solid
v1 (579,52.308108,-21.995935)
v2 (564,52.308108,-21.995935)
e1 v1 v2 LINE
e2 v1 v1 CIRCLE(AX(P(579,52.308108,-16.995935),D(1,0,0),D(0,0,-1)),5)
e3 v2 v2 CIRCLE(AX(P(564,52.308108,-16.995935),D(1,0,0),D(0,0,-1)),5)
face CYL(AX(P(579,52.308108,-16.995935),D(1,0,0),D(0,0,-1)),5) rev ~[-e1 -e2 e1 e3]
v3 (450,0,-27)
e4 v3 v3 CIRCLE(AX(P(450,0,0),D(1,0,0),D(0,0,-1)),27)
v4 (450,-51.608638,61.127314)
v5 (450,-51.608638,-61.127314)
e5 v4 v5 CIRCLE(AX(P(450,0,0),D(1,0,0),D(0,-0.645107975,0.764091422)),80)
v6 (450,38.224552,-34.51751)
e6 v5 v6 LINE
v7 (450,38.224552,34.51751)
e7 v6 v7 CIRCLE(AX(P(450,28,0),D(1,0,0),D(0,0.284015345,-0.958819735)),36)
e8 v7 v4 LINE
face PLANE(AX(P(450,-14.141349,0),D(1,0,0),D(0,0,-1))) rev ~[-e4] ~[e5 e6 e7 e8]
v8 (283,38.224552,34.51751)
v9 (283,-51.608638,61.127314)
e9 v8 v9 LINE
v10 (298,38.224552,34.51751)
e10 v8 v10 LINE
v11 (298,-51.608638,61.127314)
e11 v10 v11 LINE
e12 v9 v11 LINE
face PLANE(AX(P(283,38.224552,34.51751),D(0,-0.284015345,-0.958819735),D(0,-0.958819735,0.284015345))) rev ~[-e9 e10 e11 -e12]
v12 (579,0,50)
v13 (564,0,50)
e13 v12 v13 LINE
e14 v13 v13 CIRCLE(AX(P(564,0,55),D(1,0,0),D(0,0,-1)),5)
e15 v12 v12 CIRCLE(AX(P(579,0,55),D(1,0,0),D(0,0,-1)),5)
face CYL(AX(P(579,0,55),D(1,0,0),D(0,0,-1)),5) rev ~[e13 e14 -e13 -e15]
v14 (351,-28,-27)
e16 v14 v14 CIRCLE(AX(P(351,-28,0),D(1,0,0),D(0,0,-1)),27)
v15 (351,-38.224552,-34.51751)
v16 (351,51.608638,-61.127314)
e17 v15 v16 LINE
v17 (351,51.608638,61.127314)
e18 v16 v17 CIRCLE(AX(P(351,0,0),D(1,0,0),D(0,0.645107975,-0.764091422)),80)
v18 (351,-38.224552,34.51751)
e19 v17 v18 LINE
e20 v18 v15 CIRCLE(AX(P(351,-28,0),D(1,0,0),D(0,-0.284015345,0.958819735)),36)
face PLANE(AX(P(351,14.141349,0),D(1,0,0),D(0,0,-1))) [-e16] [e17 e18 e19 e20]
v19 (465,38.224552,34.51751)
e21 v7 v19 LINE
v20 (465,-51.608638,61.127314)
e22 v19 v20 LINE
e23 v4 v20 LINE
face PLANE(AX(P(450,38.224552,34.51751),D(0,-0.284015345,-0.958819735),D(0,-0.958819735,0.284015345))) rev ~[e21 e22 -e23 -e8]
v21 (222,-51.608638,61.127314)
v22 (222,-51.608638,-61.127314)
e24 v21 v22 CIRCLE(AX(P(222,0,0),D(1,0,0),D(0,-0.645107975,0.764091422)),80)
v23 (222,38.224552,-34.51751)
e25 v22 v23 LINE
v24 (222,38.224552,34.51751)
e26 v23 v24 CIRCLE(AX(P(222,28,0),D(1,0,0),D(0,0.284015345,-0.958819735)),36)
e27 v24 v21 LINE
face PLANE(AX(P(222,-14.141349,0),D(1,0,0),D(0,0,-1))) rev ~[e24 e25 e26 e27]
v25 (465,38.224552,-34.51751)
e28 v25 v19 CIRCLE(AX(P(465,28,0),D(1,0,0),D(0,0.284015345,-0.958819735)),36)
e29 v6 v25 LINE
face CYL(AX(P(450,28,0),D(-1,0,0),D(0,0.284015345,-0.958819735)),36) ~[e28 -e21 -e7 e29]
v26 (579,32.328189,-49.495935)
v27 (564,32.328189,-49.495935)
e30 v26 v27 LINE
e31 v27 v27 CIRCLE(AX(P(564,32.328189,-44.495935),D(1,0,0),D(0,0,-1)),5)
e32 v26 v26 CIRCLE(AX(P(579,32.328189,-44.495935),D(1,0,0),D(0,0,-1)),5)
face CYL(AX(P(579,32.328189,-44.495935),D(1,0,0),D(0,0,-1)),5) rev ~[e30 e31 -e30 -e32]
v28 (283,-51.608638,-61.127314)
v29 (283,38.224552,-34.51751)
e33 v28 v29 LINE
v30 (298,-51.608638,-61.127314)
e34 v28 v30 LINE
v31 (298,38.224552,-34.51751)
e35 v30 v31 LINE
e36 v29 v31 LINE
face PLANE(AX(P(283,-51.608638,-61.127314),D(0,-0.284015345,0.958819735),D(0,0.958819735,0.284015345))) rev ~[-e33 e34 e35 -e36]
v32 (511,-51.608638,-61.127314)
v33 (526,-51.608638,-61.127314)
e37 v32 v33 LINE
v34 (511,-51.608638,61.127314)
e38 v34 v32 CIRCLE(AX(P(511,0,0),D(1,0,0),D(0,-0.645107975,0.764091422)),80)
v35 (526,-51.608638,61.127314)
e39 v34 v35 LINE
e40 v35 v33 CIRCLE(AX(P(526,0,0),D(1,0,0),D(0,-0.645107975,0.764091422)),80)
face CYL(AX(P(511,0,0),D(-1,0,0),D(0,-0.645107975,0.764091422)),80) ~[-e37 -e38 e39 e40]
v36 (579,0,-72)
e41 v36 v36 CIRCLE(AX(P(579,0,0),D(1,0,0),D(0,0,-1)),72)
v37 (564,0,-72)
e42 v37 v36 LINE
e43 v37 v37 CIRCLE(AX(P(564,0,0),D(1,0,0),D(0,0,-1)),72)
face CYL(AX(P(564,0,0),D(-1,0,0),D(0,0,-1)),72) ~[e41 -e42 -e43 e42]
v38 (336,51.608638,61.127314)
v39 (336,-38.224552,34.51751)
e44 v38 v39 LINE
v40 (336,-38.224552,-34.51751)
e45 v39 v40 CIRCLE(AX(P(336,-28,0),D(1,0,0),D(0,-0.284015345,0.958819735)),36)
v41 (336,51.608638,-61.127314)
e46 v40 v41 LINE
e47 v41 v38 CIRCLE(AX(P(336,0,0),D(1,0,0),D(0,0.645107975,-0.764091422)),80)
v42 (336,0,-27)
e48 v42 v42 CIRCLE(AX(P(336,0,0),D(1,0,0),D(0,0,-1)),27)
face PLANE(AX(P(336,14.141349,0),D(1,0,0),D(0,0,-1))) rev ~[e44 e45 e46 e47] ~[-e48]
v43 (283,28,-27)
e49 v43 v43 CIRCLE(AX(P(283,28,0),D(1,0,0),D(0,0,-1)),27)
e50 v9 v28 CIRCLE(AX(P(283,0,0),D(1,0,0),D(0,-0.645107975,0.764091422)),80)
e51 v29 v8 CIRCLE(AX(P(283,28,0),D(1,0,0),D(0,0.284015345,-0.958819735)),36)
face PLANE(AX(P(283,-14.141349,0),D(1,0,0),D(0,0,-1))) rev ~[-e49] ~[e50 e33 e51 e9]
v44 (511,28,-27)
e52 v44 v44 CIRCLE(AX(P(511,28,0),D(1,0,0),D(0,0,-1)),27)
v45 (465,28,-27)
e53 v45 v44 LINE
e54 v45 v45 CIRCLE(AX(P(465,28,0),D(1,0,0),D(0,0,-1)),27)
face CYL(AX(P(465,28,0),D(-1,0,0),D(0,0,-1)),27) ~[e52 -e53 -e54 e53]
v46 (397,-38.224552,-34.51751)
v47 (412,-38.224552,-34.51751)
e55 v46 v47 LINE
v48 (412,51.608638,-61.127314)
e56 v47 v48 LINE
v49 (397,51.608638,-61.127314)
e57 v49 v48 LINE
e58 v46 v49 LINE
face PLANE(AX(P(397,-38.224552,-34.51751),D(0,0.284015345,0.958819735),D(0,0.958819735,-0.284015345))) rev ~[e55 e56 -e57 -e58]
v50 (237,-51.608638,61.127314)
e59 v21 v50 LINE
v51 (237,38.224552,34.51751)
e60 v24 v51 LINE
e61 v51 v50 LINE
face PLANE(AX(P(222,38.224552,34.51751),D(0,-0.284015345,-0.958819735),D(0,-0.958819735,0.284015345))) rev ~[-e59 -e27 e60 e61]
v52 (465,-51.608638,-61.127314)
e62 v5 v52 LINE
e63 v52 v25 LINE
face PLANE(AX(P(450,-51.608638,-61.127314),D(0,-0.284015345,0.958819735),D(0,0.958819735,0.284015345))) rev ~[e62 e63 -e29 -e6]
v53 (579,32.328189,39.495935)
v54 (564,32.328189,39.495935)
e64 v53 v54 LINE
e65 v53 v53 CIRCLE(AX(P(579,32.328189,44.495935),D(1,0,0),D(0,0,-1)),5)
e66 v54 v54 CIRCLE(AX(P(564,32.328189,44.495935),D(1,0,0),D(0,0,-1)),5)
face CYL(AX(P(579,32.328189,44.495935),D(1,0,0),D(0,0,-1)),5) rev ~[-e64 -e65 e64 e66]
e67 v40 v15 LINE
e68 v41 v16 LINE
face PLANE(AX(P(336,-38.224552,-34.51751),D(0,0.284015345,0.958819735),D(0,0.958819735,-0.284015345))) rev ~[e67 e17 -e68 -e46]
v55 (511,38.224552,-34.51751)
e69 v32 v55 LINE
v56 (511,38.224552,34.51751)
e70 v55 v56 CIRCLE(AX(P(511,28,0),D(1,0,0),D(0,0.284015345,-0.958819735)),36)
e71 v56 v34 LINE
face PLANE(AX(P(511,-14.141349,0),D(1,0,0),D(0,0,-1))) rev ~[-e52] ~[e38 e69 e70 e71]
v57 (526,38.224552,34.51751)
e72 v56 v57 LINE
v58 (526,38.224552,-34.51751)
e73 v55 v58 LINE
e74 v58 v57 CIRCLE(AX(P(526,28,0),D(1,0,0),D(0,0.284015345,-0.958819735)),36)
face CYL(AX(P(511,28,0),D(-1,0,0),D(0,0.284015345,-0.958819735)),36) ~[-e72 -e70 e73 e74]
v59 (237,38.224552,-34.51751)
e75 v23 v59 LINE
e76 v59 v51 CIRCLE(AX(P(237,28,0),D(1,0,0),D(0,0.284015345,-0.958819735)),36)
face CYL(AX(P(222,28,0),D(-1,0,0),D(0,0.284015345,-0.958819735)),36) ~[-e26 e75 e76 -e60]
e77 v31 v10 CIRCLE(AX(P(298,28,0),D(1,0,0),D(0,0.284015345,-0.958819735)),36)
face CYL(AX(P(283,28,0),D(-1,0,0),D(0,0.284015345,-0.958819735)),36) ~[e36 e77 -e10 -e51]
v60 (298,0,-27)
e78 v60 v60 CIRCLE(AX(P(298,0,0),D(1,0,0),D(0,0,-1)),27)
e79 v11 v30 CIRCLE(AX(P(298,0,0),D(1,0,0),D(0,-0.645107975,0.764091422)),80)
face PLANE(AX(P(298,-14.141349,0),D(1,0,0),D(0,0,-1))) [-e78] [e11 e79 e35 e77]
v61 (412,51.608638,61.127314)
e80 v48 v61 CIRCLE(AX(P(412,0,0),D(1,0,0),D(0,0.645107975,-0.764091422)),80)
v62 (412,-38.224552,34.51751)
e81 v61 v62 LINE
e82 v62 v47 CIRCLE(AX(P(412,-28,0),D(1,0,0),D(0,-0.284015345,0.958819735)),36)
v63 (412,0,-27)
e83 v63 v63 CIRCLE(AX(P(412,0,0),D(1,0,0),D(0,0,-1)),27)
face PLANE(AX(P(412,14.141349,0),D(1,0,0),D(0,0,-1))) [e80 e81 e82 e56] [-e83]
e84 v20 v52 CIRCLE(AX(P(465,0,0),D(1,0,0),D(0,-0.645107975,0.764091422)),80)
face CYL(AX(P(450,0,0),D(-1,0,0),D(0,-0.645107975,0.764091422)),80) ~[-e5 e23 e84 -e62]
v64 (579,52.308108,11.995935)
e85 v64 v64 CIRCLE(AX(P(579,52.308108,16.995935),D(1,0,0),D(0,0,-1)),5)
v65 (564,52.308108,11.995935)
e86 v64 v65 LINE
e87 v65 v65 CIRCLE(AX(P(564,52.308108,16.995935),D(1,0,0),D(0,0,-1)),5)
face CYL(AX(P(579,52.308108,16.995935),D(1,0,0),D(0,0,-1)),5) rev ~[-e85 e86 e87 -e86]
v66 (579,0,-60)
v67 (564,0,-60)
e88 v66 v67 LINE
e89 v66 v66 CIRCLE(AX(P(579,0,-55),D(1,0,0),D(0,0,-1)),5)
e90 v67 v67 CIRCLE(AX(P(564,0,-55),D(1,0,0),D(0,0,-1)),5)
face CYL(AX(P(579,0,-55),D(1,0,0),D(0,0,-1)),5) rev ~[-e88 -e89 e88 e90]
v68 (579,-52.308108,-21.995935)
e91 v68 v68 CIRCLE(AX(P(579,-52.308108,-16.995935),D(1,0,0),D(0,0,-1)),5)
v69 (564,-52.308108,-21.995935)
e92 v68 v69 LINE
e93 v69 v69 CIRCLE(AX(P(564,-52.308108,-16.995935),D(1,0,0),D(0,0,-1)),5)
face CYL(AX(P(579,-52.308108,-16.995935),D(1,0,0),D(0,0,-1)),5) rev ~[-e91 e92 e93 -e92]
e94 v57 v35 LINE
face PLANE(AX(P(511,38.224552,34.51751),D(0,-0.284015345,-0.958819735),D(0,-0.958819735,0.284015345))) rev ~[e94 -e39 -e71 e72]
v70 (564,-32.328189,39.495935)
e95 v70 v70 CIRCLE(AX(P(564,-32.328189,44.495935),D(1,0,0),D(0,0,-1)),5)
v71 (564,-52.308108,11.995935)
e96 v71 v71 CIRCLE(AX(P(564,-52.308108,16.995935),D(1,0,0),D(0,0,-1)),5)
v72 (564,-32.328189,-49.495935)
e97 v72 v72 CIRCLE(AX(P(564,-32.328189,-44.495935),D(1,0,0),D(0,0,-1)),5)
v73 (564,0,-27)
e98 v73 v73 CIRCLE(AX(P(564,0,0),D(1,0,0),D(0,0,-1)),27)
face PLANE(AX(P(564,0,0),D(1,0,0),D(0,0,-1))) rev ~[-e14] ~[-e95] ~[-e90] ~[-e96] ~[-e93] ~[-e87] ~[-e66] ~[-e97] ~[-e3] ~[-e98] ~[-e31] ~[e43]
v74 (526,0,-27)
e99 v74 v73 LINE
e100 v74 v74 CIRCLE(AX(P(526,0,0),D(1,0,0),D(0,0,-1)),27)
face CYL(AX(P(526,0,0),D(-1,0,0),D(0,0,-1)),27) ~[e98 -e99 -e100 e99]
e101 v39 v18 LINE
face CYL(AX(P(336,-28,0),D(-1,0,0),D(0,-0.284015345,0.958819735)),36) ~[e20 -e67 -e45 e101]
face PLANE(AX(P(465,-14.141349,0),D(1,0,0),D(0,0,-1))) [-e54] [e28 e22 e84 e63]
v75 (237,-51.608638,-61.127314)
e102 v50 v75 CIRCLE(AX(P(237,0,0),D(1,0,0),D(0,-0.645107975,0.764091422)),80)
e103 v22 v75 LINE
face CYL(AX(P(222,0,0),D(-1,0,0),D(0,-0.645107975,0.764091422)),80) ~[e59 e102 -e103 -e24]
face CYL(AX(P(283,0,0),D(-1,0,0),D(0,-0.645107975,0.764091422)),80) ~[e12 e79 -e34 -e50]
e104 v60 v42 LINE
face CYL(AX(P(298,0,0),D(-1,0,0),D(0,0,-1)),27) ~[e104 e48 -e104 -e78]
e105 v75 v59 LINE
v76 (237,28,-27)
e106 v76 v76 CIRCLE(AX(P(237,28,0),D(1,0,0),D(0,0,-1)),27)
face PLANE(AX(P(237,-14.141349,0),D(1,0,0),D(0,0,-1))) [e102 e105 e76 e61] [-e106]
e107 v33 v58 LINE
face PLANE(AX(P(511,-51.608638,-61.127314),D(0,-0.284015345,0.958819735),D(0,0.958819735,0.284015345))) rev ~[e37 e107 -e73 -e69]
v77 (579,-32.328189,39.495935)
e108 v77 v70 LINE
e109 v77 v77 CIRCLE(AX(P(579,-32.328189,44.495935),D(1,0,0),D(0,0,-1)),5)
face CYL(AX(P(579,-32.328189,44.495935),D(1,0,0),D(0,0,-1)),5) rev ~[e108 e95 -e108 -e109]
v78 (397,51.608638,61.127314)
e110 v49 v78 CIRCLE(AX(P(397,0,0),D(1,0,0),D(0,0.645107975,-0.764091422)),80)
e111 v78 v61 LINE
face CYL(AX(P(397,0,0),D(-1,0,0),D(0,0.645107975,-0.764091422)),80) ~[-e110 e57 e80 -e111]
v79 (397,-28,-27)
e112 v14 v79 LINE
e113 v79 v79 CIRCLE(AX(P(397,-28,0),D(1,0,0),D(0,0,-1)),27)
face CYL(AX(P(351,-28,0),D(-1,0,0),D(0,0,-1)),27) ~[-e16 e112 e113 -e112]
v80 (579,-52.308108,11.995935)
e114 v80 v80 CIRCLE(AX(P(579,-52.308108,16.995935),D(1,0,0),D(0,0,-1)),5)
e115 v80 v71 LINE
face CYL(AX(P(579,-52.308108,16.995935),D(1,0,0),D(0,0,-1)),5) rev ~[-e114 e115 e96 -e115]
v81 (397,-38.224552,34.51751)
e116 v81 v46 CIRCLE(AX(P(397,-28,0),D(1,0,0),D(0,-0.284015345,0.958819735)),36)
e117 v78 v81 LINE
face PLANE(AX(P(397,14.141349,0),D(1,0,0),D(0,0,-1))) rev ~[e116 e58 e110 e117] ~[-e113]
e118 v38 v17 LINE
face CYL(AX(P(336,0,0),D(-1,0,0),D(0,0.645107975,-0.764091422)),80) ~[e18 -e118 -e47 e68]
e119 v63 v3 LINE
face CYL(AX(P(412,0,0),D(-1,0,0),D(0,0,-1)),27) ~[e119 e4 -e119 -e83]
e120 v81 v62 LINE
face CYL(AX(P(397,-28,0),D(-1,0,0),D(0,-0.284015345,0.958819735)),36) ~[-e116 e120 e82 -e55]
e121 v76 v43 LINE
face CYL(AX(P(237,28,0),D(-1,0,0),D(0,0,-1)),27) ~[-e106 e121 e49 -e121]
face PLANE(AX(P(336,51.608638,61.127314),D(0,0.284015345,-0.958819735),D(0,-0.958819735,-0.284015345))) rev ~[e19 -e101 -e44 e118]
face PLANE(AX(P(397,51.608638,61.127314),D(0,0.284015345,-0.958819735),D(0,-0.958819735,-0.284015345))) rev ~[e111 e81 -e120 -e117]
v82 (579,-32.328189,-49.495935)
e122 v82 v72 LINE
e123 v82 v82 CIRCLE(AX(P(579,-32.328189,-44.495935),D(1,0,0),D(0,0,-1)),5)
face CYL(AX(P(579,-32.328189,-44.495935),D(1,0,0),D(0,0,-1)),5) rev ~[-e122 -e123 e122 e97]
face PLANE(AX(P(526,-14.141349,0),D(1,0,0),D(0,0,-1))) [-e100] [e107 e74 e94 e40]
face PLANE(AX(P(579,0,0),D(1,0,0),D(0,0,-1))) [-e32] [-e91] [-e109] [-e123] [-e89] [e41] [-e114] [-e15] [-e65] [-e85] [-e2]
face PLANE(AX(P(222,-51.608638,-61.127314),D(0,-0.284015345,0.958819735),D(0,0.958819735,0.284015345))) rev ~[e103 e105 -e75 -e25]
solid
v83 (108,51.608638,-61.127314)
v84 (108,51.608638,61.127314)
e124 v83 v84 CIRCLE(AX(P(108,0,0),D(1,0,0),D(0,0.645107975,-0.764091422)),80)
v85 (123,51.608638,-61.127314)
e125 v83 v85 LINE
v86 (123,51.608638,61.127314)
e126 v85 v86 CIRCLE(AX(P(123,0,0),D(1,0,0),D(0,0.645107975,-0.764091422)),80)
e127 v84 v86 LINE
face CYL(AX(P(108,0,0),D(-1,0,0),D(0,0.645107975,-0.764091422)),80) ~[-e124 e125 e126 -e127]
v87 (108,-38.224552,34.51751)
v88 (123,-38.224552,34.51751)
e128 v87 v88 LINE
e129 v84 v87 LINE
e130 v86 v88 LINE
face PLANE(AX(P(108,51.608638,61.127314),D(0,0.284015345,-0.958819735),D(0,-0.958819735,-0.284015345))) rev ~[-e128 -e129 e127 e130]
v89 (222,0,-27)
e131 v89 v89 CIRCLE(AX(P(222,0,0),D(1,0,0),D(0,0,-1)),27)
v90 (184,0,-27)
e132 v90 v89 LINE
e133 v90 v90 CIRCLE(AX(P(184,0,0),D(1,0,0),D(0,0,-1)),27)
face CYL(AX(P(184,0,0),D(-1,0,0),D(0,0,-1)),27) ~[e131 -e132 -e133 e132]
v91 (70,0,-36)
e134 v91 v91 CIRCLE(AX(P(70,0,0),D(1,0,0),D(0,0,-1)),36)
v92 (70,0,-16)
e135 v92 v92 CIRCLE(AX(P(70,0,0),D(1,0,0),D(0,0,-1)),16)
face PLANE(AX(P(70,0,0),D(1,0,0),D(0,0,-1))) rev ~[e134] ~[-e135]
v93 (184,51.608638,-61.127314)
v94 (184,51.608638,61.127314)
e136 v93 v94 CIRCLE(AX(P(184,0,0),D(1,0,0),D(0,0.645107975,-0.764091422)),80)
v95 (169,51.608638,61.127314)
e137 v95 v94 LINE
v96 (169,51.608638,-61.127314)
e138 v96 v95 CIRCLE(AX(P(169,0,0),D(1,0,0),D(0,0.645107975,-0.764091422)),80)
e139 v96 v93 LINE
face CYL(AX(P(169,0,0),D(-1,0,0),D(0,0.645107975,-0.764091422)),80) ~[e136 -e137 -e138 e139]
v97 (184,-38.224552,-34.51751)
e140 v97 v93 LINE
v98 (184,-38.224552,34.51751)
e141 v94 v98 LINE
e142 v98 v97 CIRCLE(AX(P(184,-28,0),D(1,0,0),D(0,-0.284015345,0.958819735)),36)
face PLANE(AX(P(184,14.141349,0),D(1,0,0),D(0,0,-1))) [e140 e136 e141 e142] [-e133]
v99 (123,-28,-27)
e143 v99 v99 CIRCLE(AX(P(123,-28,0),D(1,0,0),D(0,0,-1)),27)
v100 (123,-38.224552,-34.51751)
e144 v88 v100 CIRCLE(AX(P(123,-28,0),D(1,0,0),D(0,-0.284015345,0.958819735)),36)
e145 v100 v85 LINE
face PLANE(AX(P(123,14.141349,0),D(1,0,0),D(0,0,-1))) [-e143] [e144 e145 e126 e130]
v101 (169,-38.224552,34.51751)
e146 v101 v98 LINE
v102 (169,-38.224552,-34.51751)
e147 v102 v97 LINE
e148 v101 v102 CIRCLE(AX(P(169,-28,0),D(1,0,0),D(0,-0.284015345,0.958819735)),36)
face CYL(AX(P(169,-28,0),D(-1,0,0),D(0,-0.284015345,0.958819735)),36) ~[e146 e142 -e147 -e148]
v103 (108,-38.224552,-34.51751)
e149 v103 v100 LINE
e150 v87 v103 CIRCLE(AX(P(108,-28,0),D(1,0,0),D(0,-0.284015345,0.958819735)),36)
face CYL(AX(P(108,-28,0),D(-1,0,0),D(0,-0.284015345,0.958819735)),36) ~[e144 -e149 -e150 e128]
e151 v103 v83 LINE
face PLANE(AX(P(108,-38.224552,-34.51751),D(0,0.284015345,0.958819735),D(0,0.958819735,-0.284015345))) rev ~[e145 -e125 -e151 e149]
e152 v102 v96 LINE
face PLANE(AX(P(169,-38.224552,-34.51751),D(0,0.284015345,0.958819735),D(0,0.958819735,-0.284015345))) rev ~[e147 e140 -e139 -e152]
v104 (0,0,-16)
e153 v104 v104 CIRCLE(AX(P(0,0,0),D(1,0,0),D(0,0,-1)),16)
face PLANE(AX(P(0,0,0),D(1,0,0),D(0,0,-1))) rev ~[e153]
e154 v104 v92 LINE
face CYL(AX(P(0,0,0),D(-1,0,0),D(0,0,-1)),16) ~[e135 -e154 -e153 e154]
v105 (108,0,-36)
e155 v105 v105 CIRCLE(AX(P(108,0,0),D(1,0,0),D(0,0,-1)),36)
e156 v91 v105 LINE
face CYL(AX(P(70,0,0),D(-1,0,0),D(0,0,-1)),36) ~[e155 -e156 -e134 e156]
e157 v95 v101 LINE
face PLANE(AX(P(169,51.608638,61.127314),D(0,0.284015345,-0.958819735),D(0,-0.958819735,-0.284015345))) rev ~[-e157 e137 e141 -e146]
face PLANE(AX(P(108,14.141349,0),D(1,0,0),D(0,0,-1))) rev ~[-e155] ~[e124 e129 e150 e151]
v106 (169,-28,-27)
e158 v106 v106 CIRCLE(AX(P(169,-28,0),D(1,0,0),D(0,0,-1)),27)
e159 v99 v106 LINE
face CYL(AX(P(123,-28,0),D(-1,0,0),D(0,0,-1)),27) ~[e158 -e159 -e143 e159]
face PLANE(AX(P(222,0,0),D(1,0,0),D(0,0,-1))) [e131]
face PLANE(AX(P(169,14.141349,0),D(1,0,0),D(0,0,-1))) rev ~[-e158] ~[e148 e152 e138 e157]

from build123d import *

# Parameters (mm, degrees)
SKETCH1_R            = 16
BOSS_EXTRUDE1_DEPTH  = 70
SKETCH2_R            = 36
BOSS_EXTRUDE2_DEPTH  = 38
BOSS_EXTRUDE3_DEPTH  = 15
SKETCH4_R            = 27
BOSS_EXTRUDE4_DEPTH  = 46
BOSS_EXTRUDE6_DEPTH  = 15
SKETCH9_R            = 27
BOSS_EXTRUDE7_DEPTH  = 38
BOSS_EXTRUDE8_DEPTH  = 15
SKETCH12_R           = 27
BOSS_EXTRUDE9_DEPTH  = 46
BOSS_EXTRUDE10_DEPTH = 15
SKETCH15_R           = 27
BOSS_EXTRUDE11_DEPTH = 38
BOSS_EXTRUDE12_DEPTH = 15
SKETCH17_R           = 27
BOSS_EXTRUDE13_DEPTH = 46
BOSS_EXTRUDE14_DEPTH = 15
SKETCH19_R           = 27
BOSS_EXTRUDE15_DEPTH = 38
BOSS_EXTRUDE16_DEPTH = 15
SKETCH21_R           = 27
BOSS_EXTRUDE17_DEPTH = 46
BOSS_EXTRUDE18_DEPTH = 15
SKETCH23_R           = 27
BOSS_EXTRUDE19_DEPTH = 38
SKETCH24_R           = 72
BOSS_EXTRUDE20_DEPTH = 15
SKETCH25_R           = 5
CUT_EXTRUDE1_DEPTH   = 15


with BuildPart() as part:
    # Sketch1 → Boss-Extrude1 (new body)
    with BuildSketch(Plane(origin=(0, 0, 0), x_dir=(0, 0, -1), z_dir=(1, 0, 0))):
        Circle(SKETCH1_R)
    extrude(amount=BOSS_EXTRUDE1_DEPTH)

    # Sketch2 → Boss-Extrude2 (add)
    with BuildSketch(Plane(origin=(70, 0, 0), x_dir=(0, 0, -1), z_dir=(1, 0, 0))):
        Circle(SKETCH2_R)
    extrude(amount=BOSS_EXTRUDE2_DEPTH)

    # Sketch3 → Boss-Extrude3 (add)
    with BuildSketch(Plane(origin=(108, 0, 0), x_dir=(0, 0, -1), z_dir=(1, 0, 0))):
        with BuildLine():
            Line((34.517510455, -38.224552409), (61.127313745, 51.608637982))
            ThreePointArc((61.127313745, 51.608637982), (0, 80), (-61.127313745, 51.608637982))
            Line((-61.127313745, 51.608637982), (-34.517510455, -38.224552409))
            ThreePointArc((-34.517510455, -38.224552409), (0, -64), (34.517510455, -38.224552409))
        make_face()
    extrude(amount=BOSS_EXTRUDE3_DEPTH)

    # Sketch4 → Boss-Extrude4 (add)
    with BuildSketch(Plane(origin=(123, 0, 0), x_dir=(0, 0, -1), z_dir=(1, 0, 0))):
        with Locations((0, -28)):
            Circle(SKETCH4_R)
    extrude(amount=BOSS_EXTRUDE4_DEPTH)

    # Sketch8 → Boss-Extrude6 (add)
    with BuildSketch(Plane(origin=(169, 0, 0), x_dir=(0, 0, -1), z_dir=(1, 0, 0))):
        with BuildLine():
            Line((34.517510455, -38.224552409), (61.127313745, 51.608637982))
            ThreePointArc((61.127313745, 51.608637982), (0, 80), (-61.127313745, 51.608637982))
            Line((-61.127313745, 51.608637982), (-34.517510455, -38.224552409))
            ThreePointArc((-34.517510455, -38.224552409), (0, -64), (34.517510455, -38.224552409))
        make_face()
    extrude(amount=BOSS_EXTRUDE6_DEPTH)

    # Sketch9 → Boss-Extrude7 (add)
    with BuildSketch(Plane(origin=(184, 0, 0), x_dir=(0, 0, -1), z_dir=(1, 0, 0))):
        Circle(SKETCH9_R)
    extrude(amount=BOSS_EXTRUDE7_DEPTH)


with BuildPart() as body_2:
    # Sketch10 → Boss-Extrude8 (new body)
    with BuildSketch(Plane(origin=(222, 0, 0), x_dir=(0, 0, -1), z_dir=(1, 0, 0))):
        with BuildLine():
            Line((-34.517510455, 38.224552409), (-61.127313745, -51.608637982))
            ThreePointArc((-61.127313745, -51.608637982), (0, -80), (61.127313745, -51.608637982))
            Line((61.127313745, -51.608637982), (34.517510455, 38.224552409))
            ThreePointArc((34.517510455, 38.224552409), (0, 64), (-34.517510455, 38.224552409))
        make_face()
    extrude(amount=BOSS_EXTRUDE8_DEPTH)

    # Sketch12 → Boss-Extrude9 (add)
    with BuildSketch(Plane(origin=(237, 0, 0), x_dir=(0, 0, -1), z_dir=(1, 0, 0))):
        with Locations((0, 28)):
            Circle(SKETCH12_R)
    extrude(amount=BOSS_EXTRUDE9_DEPTH)

    # Sketch13 → Boss-Extrude10 (add)
    with BuildSketch(Plane(origin=(283, 0, 0), x_dir=(0, 0, -1), z_dir=(1, 0, 0))):
        with BuildLine():
            Line((-34.517510455, 38.224552409), (-61.127313745, -51.608637982))
            ThreePointArc((-61.127313745, -51.608637982), (0, -80), (61.127313745, -51.608637982))
            Line((61.127313745, -51.608637982), (34.517510455, 38.224552409))
            ThreePointArc((34.517510455, 38.224552409), (0, 64), (-34.517510455, 38.224552409))
        make_face()
    extrude(amount=BOSS_EXTRUDE10_DEPTH)

    # Sketch15 → Boss-Extrude11 (add)
    with BuildSketch(Plane(origin=(298, 0, 0), x_dir=(0, 0, -1), z_dir=(1, 0, 0))):
        Circle(SKETCH15_R)
    extrude(amount=BOSS_EXTRUDE11_DEPTH)

    # Sketch16 → Boss-Extrude12 (add)
    with BuildSketch(Plane(origin=(336, 0, 0), x_dir=(0, 0, -1), z_dir=(1, 0, 0))):
        with BuildLine():
            Line((34.517510455, -38.224552409), (61.127313745, 51.608637982))
            ThreePointArc((61.127313745, 51.608637982), (0, 80), (-61.127313745, 51.608637982))
            Line((-61.127313745, 51.608637982), (-34.517510455, -38.224552409))
            ThreePointArc((-34.517510455, -38.224552409), (0, -64), (34.517510455, -38.224552409))
        make_face()
    extrude(amount=BOSS_EXTRUDE12_DEPTH)

    # Sketch17 → Boss-Extrude13 (add)
    with BuildSketch(Plane(origin=(351, 0, 0), x_dir=(0, 0, -1), z_dir=(1, 0, 0))):
        with Locations((0, -28)):
            Circle(SKETCH17_R)
    extrude(amount=BOSS_EXTRUDE13_DEPTH)

    # Sketch18 → Boss-Extrude14 (add)
    with BuildSketch(Plane(origin=(397, 0, 0), x_dir=(0, 0, -1), z_dir=(1, 0, 0))):
        with BuildLine():
            Line((-61.127313745, 51.608637982), (-34.517510455, -38.224552409))
            ThreePointArc((-34.517510455, -38.224552409), (0, -64), (34.517510455, -38.224552409))
            Line((34.517510455, -38.224552409), (61.127313745, 51.608637982))
            ThreePointArc((61.127313745, 51.608637982), (0, 80), (-61.127313745, 51.608637982))
        make_face()
    extrude(amount=BOSS_EXTRUDE14_DEPTH)

    # Sketch19 → Boss-Extrude15 (add)
    with BuildSketch(Plane(origin=(412, 0, 0), x_dir=(0, 0, -1), z_dir=(1, 0, 0))):
        Circle(SKETCH19_R)
    extrude(amount=BOSS_EXTRUDE15_DEPTH)

    # Sketch20 → Boss-Extrude16 (add)
    with BuildSketch(Plane(origin=(450, 0, 0), x_dir=(0, 0, -1), z_dir=(1, 0, 0))):
        with BuildLine():
            Line((-34.517510455, 38.224552409), (-61.127313745, -51.608637982))
            ThreePointArc((-61.127313745, -51.608637982), (0, -80), (61.127313745, -51.608637982))
            Line((61.127313745, -51.608637982), (34.517510455, 38.224552409))
            ThreePointArc((34.517510455, 38.224552409), (0, 64), (-34.517510455, 38.224552409))
        make_face()
    extrude(amount=BOSS_EXTRUDE16_DEPTH)

    # Sketch21 → Boss-Extrude17 (add)
    with BuildSketch(Plane(origin=(465, 0, 0), x_dir=(0, 0, -1), z_dir=(1, 0, 0))):
        with Locations((0, 28)):
            Circle(SKETCH21_R)
    extrude(amount=BOSS_EXTRUDE17_DEPTH)

    # Sketch22 → Boss-Extrude18 (add)
    with BuildSketch(Plane(origin=(511, 0, 0), x_dir=(0, 0, -1), z_dir=(1, 0, 0))):
        with BuildLine():
            Line((-34.517510455, 38.224552409), (-61.127313745, -51.608637982))
            ThreePointArc((-61.127313745, -51.608637982), (0, -80), (61.127313745, -51.608637982))
            Line((61.127313745, -51.608637982), (34.517510455, 38.224552409))
            ThreePointArc((34.517510455, 38.224552409), (0, 64), (-34.517510455, 38.224552409))
        make_face()
    extrude(amount=BOSS_EXTRUDE18_DEPTH)

    # Sketch23 → Boss-Extrude19 (add)
    with BuildSketch(Plane(origin=(526, 0, 0), x_dir=(0, 0, -1), z_dir=(1, 0, 0))):
        Circle(SKETCH23_R)
    extrude(amount=BOSS_EXTRUDE19_DEPTH)

    # Sketch24 → Boss-Extrude20 (add)
    with BuildSketch(Plane(origin=(564, 0, 0), x_dir=(0, 0, -1), z_dir=(1, 0, 0))):
        Circle(SKETCH24_R)
    extrude(amount=BOSS_EXTRUDE20_DEPTH)

    # Sketch25 → Cut-Extrude1 (cut)
    with BuildSketch(Plane(origin=(579, 0, 0), x_dir=(0, 0, -1), z_dir=(1, 0, 0))):
        with Locations((55, 0)):
            Circle(SKETCH25_R)
        with Locations((44.495934691, -32.328188876)):
            Circle(SKETCH25_R)
        with Locations((16.995934691, -52.308108396)):
            Circle(SKETCH25_R)
        with Locations((-16.995934691, -52.308108396)):
            Circle(SKETCH25_R)
        with Locations((-44.495934691, -32.328188876)):
            Circle(SKETCH25_R)
        with Locations((-55, 0)):
            Circle(SKETCH25_R)
        with Locations((-44.495934691, 32.328188876)):
            Circle(SKETCH25_R)
        with Locations((-16.995934691, 52.308108396)):
            Circle(SKETCH25_R)
        with Locations((16.995934691, 52.308108396)):
            Circle(SKETCH25_R)
        with Locations((44.495934691, 32.328188876)):
            Circle(SKETCH25_R)
    extrude(amount=-CUT_EXTRUDE1_DEPTH, mode=Mode.SUBTRACT)


solid = Compound([part.part, body_2.part])
